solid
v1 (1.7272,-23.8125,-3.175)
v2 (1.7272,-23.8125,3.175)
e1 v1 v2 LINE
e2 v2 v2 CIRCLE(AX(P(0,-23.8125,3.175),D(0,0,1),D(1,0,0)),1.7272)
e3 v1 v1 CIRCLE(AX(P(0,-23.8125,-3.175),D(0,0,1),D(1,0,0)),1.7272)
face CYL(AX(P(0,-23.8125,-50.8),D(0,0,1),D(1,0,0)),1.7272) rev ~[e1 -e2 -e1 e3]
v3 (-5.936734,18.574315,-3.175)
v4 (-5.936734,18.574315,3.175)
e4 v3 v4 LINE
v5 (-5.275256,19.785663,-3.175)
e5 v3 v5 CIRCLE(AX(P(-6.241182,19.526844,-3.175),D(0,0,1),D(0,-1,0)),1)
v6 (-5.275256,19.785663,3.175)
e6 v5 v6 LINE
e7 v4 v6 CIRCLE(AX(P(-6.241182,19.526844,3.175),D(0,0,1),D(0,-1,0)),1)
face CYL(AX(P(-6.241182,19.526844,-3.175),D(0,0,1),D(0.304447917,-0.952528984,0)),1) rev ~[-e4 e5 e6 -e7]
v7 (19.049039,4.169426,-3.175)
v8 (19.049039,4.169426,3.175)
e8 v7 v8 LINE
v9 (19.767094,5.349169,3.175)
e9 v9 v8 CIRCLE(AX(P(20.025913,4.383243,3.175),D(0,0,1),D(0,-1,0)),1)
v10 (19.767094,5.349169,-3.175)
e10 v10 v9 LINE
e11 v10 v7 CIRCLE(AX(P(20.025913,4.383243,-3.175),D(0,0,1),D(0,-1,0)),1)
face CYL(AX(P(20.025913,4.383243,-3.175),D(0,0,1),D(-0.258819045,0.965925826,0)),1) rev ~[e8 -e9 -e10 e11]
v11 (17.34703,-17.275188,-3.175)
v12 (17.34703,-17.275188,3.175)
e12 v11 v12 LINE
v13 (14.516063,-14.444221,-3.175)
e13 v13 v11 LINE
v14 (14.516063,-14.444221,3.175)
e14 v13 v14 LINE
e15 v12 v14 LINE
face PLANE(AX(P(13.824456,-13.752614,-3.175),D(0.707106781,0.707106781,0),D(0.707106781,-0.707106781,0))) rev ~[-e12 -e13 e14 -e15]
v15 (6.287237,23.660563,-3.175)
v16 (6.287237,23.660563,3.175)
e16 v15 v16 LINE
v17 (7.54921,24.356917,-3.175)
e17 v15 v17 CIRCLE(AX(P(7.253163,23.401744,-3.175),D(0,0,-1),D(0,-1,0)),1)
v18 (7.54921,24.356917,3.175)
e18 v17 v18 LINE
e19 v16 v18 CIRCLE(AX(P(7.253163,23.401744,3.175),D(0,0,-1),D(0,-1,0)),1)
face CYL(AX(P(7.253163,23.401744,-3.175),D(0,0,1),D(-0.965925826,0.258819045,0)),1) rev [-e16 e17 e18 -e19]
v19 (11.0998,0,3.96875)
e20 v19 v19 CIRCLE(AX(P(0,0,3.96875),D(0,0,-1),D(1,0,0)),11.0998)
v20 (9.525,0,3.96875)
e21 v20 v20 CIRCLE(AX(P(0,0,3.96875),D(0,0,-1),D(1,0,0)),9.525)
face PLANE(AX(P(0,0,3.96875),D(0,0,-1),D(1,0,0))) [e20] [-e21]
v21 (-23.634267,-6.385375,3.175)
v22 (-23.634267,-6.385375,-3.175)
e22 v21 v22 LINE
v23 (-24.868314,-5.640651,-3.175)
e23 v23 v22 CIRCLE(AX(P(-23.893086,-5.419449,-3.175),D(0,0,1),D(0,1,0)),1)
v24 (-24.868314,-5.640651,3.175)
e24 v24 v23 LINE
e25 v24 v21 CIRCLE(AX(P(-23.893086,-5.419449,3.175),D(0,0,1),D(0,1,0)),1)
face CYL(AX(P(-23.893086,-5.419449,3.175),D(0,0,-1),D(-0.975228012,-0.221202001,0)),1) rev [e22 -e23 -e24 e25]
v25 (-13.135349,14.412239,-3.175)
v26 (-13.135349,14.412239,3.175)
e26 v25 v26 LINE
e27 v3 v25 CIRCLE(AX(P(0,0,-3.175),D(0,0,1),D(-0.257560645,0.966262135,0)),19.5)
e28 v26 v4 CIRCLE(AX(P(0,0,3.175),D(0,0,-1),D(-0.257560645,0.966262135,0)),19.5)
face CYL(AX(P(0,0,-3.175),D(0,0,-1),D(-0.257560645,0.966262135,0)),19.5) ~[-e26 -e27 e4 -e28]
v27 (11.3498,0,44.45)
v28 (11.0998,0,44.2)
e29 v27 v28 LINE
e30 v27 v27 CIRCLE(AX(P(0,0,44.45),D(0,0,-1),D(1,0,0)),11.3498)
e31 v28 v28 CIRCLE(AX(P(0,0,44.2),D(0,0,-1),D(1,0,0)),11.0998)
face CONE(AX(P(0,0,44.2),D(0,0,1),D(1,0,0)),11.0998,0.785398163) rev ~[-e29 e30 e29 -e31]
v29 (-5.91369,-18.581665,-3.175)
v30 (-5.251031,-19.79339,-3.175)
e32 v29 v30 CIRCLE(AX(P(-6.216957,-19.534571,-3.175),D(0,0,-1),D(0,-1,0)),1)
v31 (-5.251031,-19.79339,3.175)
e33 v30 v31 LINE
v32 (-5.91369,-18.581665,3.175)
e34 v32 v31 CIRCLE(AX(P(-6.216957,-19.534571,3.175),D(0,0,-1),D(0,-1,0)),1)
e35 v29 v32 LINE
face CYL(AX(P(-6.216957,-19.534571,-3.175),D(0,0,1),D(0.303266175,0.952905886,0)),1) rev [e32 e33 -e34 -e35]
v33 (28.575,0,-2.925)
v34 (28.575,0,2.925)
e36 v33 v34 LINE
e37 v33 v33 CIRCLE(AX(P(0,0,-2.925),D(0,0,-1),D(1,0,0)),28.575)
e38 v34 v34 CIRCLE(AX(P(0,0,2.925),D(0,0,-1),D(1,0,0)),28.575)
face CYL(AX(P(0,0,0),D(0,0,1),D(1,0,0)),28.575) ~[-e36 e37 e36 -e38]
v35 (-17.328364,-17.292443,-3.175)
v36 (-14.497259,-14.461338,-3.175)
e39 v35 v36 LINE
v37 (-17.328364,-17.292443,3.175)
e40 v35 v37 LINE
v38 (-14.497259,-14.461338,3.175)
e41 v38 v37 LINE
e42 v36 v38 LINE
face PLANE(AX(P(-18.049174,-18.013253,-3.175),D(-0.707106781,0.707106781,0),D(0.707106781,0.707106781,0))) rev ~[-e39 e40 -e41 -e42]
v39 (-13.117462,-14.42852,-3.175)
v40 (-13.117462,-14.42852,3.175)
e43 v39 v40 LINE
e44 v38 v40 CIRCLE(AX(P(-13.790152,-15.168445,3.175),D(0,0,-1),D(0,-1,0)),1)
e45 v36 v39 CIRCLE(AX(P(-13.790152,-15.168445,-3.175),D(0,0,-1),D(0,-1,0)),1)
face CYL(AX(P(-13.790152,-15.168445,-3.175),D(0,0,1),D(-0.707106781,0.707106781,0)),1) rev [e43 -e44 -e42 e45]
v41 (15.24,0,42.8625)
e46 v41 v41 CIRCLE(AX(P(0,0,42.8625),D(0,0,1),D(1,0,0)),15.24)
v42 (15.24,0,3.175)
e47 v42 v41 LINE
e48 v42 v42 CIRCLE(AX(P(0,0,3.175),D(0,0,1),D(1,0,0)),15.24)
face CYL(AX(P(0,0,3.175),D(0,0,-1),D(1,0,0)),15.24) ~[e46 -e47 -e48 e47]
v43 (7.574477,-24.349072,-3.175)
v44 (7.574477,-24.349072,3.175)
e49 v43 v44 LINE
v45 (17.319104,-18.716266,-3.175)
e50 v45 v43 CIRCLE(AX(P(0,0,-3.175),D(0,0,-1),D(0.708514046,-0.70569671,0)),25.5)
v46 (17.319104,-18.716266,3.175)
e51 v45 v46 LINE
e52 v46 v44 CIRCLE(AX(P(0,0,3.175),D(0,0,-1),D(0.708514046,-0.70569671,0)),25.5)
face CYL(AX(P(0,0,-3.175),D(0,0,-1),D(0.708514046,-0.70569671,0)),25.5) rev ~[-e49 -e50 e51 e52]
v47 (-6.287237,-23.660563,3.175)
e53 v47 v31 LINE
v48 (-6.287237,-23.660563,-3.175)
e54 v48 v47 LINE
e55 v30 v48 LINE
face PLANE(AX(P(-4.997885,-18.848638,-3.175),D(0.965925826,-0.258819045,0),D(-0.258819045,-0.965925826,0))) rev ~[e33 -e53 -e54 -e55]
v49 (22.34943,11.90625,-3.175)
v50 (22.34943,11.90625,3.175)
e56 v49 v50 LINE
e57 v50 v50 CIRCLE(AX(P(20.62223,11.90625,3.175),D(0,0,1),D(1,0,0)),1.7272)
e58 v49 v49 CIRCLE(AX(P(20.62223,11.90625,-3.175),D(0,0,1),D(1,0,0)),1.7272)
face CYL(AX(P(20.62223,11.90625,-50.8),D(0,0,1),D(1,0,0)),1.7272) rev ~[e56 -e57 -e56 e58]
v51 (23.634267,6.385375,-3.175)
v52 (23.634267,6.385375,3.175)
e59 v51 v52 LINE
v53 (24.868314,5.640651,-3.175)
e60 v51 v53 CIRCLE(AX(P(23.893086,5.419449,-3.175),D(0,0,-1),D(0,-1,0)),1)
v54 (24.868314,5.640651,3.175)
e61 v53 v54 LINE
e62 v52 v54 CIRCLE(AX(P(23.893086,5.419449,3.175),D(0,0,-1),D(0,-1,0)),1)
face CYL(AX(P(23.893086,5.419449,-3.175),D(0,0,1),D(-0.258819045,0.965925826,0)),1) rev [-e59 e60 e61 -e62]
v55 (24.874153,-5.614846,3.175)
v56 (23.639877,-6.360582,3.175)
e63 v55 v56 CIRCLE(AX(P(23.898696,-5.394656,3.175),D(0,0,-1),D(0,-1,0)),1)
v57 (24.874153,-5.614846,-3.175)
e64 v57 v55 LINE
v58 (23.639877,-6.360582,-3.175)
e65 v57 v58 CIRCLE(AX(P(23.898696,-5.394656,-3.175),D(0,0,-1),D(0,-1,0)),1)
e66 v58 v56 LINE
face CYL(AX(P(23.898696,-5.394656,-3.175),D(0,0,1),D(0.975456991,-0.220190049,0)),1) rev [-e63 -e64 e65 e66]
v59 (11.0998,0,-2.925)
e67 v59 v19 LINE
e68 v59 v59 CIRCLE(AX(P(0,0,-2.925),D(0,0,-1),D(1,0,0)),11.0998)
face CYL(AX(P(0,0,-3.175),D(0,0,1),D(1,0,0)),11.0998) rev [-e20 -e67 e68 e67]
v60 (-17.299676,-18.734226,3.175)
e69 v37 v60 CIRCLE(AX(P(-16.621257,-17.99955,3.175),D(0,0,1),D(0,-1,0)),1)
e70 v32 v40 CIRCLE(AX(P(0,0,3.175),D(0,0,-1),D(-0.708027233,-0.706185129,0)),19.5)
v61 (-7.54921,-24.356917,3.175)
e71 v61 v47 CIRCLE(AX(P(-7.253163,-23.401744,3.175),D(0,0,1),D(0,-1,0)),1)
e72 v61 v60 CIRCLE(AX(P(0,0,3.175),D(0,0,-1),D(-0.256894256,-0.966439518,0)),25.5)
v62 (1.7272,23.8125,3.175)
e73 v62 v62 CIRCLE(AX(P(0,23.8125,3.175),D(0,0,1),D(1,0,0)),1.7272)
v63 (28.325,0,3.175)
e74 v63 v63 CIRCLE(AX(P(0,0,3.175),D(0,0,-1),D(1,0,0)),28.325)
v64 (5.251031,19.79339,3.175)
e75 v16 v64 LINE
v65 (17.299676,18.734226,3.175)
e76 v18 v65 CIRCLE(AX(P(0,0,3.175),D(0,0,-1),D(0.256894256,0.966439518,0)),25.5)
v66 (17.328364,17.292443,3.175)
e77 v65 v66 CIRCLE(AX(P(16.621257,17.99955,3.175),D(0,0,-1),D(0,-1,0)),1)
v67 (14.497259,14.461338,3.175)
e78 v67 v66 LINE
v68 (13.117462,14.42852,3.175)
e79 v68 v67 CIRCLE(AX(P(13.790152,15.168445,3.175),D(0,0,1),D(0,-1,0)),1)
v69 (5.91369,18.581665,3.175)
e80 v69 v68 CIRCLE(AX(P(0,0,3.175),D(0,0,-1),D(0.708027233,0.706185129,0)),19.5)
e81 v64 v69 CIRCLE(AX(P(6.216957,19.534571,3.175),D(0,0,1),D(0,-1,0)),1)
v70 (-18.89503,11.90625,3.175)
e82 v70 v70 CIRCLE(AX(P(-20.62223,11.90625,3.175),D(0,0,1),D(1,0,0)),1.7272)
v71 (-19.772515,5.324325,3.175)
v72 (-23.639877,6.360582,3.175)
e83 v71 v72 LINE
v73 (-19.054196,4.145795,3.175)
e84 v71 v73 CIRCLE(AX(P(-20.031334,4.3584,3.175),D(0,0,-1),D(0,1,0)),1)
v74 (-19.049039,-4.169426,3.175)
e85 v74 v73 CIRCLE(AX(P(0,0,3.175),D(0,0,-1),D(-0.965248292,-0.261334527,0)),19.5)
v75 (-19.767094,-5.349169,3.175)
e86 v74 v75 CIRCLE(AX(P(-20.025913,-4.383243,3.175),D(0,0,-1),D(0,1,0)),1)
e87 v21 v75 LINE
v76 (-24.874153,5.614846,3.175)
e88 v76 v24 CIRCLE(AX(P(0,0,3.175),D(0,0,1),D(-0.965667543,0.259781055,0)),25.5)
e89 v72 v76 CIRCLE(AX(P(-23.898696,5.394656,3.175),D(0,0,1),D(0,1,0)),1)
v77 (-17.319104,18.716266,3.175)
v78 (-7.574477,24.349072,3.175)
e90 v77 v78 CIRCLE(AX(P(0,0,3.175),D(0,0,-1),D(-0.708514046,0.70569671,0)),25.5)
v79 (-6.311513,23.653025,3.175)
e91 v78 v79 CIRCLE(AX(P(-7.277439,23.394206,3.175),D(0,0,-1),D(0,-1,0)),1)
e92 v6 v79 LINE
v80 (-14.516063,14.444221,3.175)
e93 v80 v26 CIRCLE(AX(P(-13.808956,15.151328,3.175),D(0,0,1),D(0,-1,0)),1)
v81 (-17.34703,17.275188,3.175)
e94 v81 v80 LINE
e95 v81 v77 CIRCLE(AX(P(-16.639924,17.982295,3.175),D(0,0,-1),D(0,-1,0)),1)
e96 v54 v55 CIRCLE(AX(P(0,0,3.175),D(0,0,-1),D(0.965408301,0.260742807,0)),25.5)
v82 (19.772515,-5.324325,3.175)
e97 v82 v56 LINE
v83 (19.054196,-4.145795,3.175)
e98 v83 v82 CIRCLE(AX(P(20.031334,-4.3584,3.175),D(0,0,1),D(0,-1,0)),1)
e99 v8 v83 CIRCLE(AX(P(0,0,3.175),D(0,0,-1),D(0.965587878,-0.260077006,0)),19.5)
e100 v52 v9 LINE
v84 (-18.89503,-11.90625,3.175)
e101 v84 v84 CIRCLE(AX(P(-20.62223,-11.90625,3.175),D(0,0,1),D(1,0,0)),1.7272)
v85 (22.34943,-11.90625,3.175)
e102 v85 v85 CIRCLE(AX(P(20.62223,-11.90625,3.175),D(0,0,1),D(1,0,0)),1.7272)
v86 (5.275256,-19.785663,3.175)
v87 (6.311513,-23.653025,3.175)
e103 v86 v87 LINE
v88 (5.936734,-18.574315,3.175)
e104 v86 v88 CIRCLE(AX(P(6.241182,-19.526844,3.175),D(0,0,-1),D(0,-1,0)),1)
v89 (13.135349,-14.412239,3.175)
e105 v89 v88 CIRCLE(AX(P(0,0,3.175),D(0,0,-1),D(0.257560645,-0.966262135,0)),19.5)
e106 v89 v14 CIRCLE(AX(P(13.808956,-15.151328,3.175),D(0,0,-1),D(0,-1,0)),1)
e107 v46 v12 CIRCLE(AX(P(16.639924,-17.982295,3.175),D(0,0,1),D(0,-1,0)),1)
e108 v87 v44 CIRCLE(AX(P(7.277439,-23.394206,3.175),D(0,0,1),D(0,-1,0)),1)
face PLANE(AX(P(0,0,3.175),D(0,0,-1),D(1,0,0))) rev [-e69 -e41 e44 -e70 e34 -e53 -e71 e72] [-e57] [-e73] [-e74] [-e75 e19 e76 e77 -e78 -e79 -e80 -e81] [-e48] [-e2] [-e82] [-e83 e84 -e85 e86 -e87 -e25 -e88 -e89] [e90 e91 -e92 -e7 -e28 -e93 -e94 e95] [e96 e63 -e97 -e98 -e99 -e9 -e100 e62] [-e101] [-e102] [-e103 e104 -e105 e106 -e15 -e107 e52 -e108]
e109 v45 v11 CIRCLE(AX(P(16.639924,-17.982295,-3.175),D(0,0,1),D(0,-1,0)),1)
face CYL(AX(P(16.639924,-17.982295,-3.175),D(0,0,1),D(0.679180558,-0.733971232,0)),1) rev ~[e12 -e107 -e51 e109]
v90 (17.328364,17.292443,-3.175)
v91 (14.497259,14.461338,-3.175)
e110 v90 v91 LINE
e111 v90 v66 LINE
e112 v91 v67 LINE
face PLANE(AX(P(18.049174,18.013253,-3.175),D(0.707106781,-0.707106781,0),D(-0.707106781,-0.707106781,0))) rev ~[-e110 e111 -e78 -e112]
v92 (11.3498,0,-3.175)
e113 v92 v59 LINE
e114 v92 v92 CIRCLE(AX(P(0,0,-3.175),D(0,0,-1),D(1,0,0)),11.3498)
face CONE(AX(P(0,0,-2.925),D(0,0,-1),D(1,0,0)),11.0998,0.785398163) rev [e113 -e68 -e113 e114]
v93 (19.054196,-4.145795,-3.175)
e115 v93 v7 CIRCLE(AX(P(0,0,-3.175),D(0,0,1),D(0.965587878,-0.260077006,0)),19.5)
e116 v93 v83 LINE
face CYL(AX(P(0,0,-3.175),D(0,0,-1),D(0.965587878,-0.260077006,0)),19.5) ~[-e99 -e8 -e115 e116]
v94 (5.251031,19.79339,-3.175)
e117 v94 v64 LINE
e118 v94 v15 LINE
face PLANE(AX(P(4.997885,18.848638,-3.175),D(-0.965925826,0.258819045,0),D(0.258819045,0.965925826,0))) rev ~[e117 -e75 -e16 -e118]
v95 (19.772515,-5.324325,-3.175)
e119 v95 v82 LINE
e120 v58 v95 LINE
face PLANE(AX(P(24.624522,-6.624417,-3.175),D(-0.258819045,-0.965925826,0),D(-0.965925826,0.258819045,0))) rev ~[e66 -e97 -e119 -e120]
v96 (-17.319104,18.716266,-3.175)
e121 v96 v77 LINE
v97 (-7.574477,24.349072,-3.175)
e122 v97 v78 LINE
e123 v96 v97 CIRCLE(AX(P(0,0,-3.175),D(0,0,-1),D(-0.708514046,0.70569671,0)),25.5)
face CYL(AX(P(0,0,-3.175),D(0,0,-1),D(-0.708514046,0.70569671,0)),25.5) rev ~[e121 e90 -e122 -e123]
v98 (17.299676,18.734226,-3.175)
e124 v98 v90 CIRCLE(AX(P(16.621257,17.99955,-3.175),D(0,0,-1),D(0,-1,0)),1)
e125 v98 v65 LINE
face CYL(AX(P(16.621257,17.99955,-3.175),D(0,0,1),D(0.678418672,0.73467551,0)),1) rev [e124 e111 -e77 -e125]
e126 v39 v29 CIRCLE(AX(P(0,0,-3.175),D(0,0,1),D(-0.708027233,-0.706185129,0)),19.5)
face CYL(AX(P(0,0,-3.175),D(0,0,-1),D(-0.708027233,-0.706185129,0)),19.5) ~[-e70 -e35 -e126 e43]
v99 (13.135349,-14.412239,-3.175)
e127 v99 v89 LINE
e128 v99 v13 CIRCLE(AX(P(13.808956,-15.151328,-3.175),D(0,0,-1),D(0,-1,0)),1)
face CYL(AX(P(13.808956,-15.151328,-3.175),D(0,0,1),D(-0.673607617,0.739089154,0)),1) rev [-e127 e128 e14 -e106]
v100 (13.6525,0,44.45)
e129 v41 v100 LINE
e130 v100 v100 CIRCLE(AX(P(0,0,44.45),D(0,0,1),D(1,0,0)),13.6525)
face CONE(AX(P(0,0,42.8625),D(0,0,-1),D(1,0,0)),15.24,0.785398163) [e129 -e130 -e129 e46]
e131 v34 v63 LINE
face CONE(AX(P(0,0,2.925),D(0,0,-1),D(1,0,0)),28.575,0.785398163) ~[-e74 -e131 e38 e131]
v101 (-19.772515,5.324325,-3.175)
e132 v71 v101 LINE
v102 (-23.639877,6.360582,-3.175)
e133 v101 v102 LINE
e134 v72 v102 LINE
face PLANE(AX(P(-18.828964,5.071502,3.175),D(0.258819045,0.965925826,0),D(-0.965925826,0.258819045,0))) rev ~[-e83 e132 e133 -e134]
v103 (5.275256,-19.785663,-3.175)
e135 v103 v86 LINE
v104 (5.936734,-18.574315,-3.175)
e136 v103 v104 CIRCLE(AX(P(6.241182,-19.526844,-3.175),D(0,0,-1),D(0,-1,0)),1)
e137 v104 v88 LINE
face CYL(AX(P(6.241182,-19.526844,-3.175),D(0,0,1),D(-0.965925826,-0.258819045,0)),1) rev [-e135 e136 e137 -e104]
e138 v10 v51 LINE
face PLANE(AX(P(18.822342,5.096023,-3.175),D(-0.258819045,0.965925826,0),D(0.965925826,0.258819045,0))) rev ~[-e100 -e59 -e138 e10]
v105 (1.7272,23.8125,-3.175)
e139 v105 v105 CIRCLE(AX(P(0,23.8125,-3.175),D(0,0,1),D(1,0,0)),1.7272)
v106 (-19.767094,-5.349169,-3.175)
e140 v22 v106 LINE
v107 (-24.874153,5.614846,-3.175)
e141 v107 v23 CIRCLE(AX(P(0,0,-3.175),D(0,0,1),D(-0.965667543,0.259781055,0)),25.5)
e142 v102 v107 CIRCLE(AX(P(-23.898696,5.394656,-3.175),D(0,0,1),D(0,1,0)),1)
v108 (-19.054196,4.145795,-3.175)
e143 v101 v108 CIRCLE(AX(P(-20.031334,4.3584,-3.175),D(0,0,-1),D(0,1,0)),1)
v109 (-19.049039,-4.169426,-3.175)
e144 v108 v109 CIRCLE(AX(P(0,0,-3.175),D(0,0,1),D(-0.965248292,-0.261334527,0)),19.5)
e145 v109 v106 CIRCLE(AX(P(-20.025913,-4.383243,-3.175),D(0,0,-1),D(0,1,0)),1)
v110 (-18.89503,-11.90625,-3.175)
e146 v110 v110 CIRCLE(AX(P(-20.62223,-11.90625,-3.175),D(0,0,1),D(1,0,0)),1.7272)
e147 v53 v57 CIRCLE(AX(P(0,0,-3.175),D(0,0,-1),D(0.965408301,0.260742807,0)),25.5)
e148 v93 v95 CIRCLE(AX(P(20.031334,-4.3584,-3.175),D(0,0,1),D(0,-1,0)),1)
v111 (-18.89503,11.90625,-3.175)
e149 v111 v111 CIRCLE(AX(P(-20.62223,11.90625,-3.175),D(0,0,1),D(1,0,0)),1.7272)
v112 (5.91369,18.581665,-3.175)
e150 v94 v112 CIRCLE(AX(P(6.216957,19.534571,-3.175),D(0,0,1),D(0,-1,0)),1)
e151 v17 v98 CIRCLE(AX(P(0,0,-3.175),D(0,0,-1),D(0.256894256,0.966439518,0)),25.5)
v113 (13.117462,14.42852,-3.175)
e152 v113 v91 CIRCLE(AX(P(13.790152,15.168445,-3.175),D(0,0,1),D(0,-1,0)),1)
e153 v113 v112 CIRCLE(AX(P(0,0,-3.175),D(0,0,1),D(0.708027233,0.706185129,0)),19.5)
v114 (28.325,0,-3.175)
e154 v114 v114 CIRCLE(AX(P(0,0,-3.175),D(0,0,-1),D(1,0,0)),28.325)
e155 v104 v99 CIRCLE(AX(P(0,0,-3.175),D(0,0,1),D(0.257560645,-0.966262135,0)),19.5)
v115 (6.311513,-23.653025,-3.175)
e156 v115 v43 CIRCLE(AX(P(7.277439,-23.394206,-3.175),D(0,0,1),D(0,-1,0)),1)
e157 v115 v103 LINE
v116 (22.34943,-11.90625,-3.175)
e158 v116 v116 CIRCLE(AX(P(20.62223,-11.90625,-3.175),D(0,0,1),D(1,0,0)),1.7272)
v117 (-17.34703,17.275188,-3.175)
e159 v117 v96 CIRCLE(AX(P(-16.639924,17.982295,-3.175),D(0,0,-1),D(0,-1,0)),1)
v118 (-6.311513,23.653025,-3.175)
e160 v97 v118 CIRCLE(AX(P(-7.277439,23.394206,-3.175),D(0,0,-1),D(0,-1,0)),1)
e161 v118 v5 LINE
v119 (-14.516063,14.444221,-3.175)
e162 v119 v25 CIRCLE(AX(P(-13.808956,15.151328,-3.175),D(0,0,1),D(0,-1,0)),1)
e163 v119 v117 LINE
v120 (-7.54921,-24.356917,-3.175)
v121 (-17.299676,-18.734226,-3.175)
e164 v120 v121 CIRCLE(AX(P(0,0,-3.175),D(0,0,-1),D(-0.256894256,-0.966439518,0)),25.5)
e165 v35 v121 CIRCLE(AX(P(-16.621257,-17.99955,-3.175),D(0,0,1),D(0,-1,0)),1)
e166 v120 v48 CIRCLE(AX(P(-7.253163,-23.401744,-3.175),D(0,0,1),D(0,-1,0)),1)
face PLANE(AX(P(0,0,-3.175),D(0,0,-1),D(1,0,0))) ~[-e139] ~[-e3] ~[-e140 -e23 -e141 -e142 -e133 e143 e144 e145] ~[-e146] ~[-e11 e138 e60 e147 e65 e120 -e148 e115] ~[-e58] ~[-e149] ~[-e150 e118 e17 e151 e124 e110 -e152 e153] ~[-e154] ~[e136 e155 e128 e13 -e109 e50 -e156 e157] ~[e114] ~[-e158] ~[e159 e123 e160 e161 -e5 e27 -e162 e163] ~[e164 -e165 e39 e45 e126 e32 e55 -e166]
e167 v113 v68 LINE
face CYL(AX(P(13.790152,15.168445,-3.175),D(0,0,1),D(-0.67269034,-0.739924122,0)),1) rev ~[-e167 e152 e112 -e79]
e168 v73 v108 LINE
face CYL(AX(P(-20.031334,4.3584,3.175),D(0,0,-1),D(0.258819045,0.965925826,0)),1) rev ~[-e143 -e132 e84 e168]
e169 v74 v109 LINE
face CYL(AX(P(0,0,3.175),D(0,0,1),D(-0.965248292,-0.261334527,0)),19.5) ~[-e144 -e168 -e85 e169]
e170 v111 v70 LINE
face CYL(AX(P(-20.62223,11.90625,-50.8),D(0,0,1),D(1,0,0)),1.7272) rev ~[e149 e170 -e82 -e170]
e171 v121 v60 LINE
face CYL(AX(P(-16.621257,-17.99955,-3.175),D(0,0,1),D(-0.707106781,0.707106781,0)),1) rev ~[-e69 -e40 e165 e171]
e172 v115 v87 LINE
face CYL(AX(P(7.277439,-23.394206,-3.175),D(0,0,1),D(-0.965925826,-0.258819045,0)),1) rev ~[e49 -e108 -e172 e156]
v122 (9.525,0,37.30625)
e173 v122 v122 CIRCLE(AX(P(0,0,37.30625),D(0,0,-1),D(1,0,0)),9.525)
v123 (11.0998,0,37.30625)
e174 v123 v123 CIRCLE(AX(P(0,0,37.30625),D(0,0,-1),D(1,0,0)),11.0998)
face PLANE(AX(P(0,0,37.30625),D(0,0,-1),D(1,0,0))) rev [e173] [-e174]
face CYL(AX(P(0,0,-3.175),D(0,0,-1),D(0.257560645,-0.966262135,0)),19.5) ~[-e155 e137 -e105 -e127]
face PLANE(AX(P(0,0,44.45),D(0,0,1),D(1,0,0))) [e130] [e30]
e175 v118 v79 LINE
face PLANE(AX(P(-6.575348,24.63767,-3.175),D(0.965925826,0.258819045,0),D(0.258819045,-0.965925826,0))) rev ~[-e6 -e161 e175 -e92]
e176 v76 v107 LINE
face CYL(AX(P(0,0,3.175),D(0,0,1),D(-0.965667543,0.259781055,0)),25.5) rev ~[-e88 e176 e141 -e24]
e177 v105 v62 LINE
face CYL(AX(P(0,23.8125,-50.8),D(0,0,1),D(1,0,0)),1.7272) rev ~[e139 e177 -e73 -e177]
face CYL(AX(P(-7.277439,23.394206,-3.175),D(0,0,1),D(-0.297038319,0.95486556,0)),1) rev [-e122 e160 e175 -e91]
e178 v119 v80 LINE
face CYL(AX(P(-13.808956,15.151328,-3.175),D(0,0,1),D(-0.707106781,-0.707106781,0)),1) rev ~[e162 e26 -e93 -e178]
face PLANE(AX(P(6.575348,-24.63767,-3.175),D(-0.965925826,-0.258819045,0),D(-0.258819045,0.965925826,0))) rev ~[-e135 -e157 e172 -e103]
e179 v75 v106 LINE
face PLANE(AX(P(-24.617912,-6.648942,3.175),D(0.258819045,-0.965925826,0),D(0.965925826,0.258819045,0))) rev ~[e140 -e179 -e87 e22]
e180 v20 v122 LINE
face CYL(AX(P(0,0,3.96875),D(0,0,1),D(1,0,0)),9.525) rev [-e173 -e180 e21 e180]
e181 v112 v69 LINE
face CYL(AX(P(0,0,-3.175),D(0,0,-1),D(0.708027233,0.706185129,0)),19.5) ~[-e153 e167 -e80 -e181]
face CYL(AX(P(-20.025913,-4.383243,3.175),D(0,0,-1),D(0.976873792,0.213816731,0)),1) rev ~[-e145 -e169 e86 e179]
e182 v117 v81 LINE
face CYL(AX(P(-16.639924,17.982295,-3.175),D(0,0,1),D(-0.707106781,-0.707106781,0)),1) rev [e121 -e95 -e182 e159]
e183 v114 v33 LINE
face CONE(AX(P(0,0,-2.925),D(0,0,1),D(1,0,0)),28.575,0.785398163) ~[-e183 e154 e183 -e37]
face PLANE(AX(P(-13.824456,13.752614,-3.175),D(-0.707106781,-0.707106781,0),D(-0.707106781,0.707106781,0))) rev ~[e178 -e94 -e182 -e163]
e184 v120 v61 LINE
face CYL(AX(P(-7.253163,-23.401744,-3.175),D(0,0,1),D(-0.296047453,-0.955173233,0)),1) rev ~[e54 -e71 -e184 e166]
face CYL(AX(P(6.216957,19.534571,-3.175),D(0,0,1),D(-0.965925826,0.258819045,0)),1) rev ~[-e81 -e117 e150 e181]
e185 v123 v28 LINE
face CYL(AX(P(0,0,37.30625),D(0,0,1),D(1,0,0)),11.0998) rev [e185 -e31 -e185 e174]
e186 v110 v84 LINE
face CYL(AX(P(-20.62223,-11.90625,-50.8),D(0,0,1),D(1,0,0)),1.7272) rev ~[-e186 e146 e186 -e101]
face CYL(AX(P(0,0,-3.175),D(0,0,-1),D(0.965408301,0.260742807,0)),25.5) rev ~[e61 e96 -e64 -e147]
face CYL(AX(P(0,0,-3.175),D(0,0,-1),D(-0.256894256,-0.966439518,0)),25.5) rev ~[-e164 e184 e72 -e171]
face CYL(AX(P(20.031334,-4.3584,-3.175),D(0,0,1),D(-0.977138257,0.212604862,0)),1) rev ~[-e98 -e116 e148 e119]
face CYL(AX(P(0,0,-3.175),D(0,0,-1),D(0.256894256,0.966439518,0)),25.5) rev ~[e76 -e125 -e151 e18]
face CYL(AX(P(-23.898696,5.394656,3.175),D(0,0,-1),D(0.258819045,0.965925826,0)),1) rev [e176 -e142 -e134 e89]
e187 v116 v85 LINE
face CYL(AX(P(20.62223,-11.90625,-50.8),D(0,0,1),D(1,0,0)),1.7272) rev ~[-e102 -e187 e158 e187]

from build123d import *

# Parameters (mm, degrees)
SKETCH1_W                = 28.575
SKETCH1_H                = 6.35
CUT_EXTRUDE1_DEPTH       = 7.35
CUT_EXTRUDE2_DEPTH       = 7.35
CUT_EXTRUDE3_DEPTH       = 7.35
CUT_EXTRUDE4_DEPTH       = 7.35
CUT_EXTRUDE5_DEPTH       = 7.35
CUT_EXTRUDE6_DEPTH       = 7.35
SKETCH8_R                = 15.24
BOSS_EXTRUDE1_DEPTH      = 41.275
M3_CLEARANCE_HOLE1_D     = 3.4544
M3_CLEARANCE_HOLE1_DEPTH = 47.625
CHAMFER1_SIZE            = 0.25
CHAMFER2_SIZE            = 1.5875
FILLET1_R                = 1


with BuildPart() as part:
    # Sketch1 → Revolve1 (revolve)
    with BuildSketch(Plane.XZ):
        with Locations((14.2875, 0)):
            Rectangle(SKETCH1_W, SKETCH1_H)
    revolve(axis=Axis((0, 0, 3.175), (0, 0, -1)))

    # Sketch2 → Cut-Extrude1 (cut, through all)
    with BuildSketch(Plane(origin=(0, 0, -3.175), x_dir=(-1, 0, 0), z_dir=(0, 0, -1))):
        with BuildLine():
            Line((13.824456468, 13.752614419), (18.067108165, 17.995266116))
            ThreePointArc((18.067108165, 17.995266116), (12.760996954, 22.077295051), (6.57534786, 24.637670355))
            Line((6.57534786, 24.637670355), (5.022432582, 18.842111637))
            ThreePointArc((5.022432582, 18.842111637), (9.760996476, 16.88114178), (13.824456468, 13.752614419))
        make_face()
    extrude(amount=-CUT_EXTRUDE1_DEPTH, mode=Mode.SUBTRACT)

    # Sketch3 → Cut-Extrude2 (cut, through all)
    with BuildSketch(Plane(origin=(0, 0, -3.175), x_dir=(-1, 0, 0), z_dir=(0, 0, -1))):
        with BuildLine():
            Line((-4.997885221, 18.848637704), (-6.550803522, 24.644207701))
            ThreePointArc((-6.550803522, 24.644207701), (-12.738999884, 22.089995065), (-18.049174487, 18.013253463))
            Line((-18.049174487, 18.013253463), (-13.806531048, 13.770610024))
            ThreePointArc((-13.806531048, 13.770610024), (-9.738999389, 16.893841804), (-4.997885221, 18.848637704))
        make_face()
    extrude(amount=-CUT_EXTRUDE2_DEPTH, mode=Mode.SUBTRACT)

    # Sketch4 → Cut-Extrude3 (cut, through all)
    with BuildSketch(Plane(origin=(0, 0, -3.175), x_dir=(-1, 0, 0), z_dir=(0, 0, -1))):
        with BuildLine():
            Line((-18.822341689, 5.096023285), (-24.617911686, 6.648941586))
            ThreePointArc((-24.617911686, 6.648941586), (-25.499996837, 0.012700014), (-24.624522347, -6.624416892))
            Line((-24.624522347, -6.624416892), (-18.82896363, -5.071501614))
            ThreePointArc((-18.82896363, -5.071501614), (-19.499995864, 0.012700024), (-18.822341689, 5.096023285))
        make_face()
    extrude(amount=-CUT_EXTRUDE3_DEPTH, mode=Mode.SUBTRACT)

    # Sketch5 → Cut-Extrude4 (cut, through all)
    with BuildSketch(Plane(origin=(0, 0, -3.175), x_dir=(-1, 0, 0), z_dir=(0, 0, -1))):
        with BuildLine():
            Line((-6.57534786, -24.637670355), (-5.022432582, -18.842111637))
            ThreePointArc((-5.022432582, -18.842111637), (-9.760996476, -16.88114178), (-13.824456468, -13.752614419))
            Line((-13.824456468, -13.752614419), (-18.067108165, -17.995266116))
            ThreePointArc((-18.067108165, -17.995266116), (-12.760996954, -22.077295051), (-6.57534786, -24.637670355))
        make_face()
    extrude(amount=-CUT_EXTRUDE4_DEPTH, mode=Mode.SUBTRACT)

    # Sketch6 → Cut-Extrude5 (cut, through all)
    with BuildSketch(Plane(origin=(0, 0, -3.175), x_dir=(-1, 0, 0), z_dir=(0, 0, -1))):
        with BuildLine():
            Line((18.049174487, -18.013253463), (13.806531048, -13.770610024))
            ThreePointArc((13.806531048, -13.770610024), (9.738999389, -16.893841804), (4.997885221, -18.848637704))
            Line((4.997885221, -18.848637704), (6.550803522, -24.644207701))
            ThreePointArc((6.550803522, -24.644207701), (12.738999884, -22.089995065), (18.049174487, -18.013253463))
        make_face()
    extrude(amount=-CUT_EXTRUDE5_DEPTH, mode=Mode.SUBTRACT)

    # Sketch7 → Cut-Extrude6 (cut, through all)
    with BuildSketch(Plane.XY.offset(3.175)):
        with BuildLine():
            Line((-18.82896363, 5.071501614), (-24.624522347, 6.624416892))
            ThreePointArc((-24.624522347, 6.624416892), (-25.499996837, -0.012700014), (-24.617911686, -6.648941586))
            Line((-24.617911686, -6.648941586), (-18.822341689, -5.096023285))
            ThreePointArc((-18.822341689, -5.096023285), (-19.499995864, -0.012700024), (-18.82896363, 5.071501614))
        make_face()
    extrude(amount=-CUT_EXTRUDE6_DEPTH, mode=Mode.SUBTRACT)

    # Sketch8 → Boss-Extrude1 (add)
    with BuildSketch(Plane.XY.offset(3.175)):
        Circle(SKETCH8_R)
    extrude(amount=BOSS_EXTRUDE1_DEPTH)

    # Sketch9 → Cut-Revolve1 (revolve, cut)
    with BuildSketch(Plane.XZ):
        Polygon((11.0998, 44.45), (0, 44.45), (0, -3.175), (11.0998, -3.175), (11.0998, 3.96875), (9.525, 3.96875), (9.525, 37.30625), (11.0998, 37.30625), align=None)
    revolve(axis=Axis((0, 0, 44.45), (0, 0, -1)), mode=Mode.SUBTRACT)

    # M3 Clearance Hole1
    with Locations(Plane(origin=(0, 0, -3.175), x_dir=(-1, 0, 0), z_dir=(0, 0, -1))):
        with Locations((-20.622229928, 11.90625), (-20.622229928, -11.90625), (0, -23.8125), (20.622229928, -11.90625), (20.622229928, 11.90625), (0, 23.8125)):
            Hole(M3_CLEARANCE_HOLE1_D / 2, depth=M3_CLEARANCE_HOLE1_DEPTH)

    # Chamfer1
    chamfer1_edges = [part.edges().sort_by_distance(p)[0] for p in [
        (-11.0998, 0, 44.45),
        (-11.0998, 0, -3.175),
        (-28.575, 0, -3.175),
        (-28.575, 0, 3.175),
    ]]
    chamfer(chamfer1_edges, length=CHAMFER1_SIZE)

    # Chamfer2
    chamfer2_edges = [part.edges().sort_by_distance(p)[0] for p in [
        (-15.24, 0, 44.45),
    ]]
    chamfer(chamfer2_edges, length=CHAMFER2_SIZE)

    # Fillet1
    fillet1_edges = [part.edges().sort_by_distance(p)[0] for p in [
        (-13.824456468, 13.752614419, 0),
        (-5.022432582, 18.842111637, 0),
        (-6.57534786, 24.637670355, 0),
        (-18.067108165, 17.995266116, 0),
        (4.997885221, 18.848637704, 0),
        (13.806531048, 13.770610024, 0),
        (18.049174487, 18.013253463, 0),
        (6.550803522, 24.644207701, 0),
        (18.822341689, 5.096023285, 0),
        (18.82896363, -5.071501614, 0),
        (24.624522347, -6.624416892, 0),
        (24.617911686, 6.648941586, 0),
        (6.57534786, -24.637670355, 0),
        (18.067108165, -17.995266116, 0),
        (13.824456468, -13.752614419, 0),
        (5.022432582, -18.842111637, 0),
        (-18.049174487, -18.013253463, 0),
        (-6.550803522, -24.644207701, 0),
        (-4.997885221, -18.848637704, 0),
        (-13.806531048, -13.770610024, 0),
        (-18.82896363, 5.071501614, 0),
        (-18.822341689, -5.096023285, 0),
        (-24.617911686, -6.648941586, 0),
        (-24.624522347, 6.624416892, 0),
    ]]
    fillet(fillet1_edges, radius=FILLET1_R)


solid = part.part
